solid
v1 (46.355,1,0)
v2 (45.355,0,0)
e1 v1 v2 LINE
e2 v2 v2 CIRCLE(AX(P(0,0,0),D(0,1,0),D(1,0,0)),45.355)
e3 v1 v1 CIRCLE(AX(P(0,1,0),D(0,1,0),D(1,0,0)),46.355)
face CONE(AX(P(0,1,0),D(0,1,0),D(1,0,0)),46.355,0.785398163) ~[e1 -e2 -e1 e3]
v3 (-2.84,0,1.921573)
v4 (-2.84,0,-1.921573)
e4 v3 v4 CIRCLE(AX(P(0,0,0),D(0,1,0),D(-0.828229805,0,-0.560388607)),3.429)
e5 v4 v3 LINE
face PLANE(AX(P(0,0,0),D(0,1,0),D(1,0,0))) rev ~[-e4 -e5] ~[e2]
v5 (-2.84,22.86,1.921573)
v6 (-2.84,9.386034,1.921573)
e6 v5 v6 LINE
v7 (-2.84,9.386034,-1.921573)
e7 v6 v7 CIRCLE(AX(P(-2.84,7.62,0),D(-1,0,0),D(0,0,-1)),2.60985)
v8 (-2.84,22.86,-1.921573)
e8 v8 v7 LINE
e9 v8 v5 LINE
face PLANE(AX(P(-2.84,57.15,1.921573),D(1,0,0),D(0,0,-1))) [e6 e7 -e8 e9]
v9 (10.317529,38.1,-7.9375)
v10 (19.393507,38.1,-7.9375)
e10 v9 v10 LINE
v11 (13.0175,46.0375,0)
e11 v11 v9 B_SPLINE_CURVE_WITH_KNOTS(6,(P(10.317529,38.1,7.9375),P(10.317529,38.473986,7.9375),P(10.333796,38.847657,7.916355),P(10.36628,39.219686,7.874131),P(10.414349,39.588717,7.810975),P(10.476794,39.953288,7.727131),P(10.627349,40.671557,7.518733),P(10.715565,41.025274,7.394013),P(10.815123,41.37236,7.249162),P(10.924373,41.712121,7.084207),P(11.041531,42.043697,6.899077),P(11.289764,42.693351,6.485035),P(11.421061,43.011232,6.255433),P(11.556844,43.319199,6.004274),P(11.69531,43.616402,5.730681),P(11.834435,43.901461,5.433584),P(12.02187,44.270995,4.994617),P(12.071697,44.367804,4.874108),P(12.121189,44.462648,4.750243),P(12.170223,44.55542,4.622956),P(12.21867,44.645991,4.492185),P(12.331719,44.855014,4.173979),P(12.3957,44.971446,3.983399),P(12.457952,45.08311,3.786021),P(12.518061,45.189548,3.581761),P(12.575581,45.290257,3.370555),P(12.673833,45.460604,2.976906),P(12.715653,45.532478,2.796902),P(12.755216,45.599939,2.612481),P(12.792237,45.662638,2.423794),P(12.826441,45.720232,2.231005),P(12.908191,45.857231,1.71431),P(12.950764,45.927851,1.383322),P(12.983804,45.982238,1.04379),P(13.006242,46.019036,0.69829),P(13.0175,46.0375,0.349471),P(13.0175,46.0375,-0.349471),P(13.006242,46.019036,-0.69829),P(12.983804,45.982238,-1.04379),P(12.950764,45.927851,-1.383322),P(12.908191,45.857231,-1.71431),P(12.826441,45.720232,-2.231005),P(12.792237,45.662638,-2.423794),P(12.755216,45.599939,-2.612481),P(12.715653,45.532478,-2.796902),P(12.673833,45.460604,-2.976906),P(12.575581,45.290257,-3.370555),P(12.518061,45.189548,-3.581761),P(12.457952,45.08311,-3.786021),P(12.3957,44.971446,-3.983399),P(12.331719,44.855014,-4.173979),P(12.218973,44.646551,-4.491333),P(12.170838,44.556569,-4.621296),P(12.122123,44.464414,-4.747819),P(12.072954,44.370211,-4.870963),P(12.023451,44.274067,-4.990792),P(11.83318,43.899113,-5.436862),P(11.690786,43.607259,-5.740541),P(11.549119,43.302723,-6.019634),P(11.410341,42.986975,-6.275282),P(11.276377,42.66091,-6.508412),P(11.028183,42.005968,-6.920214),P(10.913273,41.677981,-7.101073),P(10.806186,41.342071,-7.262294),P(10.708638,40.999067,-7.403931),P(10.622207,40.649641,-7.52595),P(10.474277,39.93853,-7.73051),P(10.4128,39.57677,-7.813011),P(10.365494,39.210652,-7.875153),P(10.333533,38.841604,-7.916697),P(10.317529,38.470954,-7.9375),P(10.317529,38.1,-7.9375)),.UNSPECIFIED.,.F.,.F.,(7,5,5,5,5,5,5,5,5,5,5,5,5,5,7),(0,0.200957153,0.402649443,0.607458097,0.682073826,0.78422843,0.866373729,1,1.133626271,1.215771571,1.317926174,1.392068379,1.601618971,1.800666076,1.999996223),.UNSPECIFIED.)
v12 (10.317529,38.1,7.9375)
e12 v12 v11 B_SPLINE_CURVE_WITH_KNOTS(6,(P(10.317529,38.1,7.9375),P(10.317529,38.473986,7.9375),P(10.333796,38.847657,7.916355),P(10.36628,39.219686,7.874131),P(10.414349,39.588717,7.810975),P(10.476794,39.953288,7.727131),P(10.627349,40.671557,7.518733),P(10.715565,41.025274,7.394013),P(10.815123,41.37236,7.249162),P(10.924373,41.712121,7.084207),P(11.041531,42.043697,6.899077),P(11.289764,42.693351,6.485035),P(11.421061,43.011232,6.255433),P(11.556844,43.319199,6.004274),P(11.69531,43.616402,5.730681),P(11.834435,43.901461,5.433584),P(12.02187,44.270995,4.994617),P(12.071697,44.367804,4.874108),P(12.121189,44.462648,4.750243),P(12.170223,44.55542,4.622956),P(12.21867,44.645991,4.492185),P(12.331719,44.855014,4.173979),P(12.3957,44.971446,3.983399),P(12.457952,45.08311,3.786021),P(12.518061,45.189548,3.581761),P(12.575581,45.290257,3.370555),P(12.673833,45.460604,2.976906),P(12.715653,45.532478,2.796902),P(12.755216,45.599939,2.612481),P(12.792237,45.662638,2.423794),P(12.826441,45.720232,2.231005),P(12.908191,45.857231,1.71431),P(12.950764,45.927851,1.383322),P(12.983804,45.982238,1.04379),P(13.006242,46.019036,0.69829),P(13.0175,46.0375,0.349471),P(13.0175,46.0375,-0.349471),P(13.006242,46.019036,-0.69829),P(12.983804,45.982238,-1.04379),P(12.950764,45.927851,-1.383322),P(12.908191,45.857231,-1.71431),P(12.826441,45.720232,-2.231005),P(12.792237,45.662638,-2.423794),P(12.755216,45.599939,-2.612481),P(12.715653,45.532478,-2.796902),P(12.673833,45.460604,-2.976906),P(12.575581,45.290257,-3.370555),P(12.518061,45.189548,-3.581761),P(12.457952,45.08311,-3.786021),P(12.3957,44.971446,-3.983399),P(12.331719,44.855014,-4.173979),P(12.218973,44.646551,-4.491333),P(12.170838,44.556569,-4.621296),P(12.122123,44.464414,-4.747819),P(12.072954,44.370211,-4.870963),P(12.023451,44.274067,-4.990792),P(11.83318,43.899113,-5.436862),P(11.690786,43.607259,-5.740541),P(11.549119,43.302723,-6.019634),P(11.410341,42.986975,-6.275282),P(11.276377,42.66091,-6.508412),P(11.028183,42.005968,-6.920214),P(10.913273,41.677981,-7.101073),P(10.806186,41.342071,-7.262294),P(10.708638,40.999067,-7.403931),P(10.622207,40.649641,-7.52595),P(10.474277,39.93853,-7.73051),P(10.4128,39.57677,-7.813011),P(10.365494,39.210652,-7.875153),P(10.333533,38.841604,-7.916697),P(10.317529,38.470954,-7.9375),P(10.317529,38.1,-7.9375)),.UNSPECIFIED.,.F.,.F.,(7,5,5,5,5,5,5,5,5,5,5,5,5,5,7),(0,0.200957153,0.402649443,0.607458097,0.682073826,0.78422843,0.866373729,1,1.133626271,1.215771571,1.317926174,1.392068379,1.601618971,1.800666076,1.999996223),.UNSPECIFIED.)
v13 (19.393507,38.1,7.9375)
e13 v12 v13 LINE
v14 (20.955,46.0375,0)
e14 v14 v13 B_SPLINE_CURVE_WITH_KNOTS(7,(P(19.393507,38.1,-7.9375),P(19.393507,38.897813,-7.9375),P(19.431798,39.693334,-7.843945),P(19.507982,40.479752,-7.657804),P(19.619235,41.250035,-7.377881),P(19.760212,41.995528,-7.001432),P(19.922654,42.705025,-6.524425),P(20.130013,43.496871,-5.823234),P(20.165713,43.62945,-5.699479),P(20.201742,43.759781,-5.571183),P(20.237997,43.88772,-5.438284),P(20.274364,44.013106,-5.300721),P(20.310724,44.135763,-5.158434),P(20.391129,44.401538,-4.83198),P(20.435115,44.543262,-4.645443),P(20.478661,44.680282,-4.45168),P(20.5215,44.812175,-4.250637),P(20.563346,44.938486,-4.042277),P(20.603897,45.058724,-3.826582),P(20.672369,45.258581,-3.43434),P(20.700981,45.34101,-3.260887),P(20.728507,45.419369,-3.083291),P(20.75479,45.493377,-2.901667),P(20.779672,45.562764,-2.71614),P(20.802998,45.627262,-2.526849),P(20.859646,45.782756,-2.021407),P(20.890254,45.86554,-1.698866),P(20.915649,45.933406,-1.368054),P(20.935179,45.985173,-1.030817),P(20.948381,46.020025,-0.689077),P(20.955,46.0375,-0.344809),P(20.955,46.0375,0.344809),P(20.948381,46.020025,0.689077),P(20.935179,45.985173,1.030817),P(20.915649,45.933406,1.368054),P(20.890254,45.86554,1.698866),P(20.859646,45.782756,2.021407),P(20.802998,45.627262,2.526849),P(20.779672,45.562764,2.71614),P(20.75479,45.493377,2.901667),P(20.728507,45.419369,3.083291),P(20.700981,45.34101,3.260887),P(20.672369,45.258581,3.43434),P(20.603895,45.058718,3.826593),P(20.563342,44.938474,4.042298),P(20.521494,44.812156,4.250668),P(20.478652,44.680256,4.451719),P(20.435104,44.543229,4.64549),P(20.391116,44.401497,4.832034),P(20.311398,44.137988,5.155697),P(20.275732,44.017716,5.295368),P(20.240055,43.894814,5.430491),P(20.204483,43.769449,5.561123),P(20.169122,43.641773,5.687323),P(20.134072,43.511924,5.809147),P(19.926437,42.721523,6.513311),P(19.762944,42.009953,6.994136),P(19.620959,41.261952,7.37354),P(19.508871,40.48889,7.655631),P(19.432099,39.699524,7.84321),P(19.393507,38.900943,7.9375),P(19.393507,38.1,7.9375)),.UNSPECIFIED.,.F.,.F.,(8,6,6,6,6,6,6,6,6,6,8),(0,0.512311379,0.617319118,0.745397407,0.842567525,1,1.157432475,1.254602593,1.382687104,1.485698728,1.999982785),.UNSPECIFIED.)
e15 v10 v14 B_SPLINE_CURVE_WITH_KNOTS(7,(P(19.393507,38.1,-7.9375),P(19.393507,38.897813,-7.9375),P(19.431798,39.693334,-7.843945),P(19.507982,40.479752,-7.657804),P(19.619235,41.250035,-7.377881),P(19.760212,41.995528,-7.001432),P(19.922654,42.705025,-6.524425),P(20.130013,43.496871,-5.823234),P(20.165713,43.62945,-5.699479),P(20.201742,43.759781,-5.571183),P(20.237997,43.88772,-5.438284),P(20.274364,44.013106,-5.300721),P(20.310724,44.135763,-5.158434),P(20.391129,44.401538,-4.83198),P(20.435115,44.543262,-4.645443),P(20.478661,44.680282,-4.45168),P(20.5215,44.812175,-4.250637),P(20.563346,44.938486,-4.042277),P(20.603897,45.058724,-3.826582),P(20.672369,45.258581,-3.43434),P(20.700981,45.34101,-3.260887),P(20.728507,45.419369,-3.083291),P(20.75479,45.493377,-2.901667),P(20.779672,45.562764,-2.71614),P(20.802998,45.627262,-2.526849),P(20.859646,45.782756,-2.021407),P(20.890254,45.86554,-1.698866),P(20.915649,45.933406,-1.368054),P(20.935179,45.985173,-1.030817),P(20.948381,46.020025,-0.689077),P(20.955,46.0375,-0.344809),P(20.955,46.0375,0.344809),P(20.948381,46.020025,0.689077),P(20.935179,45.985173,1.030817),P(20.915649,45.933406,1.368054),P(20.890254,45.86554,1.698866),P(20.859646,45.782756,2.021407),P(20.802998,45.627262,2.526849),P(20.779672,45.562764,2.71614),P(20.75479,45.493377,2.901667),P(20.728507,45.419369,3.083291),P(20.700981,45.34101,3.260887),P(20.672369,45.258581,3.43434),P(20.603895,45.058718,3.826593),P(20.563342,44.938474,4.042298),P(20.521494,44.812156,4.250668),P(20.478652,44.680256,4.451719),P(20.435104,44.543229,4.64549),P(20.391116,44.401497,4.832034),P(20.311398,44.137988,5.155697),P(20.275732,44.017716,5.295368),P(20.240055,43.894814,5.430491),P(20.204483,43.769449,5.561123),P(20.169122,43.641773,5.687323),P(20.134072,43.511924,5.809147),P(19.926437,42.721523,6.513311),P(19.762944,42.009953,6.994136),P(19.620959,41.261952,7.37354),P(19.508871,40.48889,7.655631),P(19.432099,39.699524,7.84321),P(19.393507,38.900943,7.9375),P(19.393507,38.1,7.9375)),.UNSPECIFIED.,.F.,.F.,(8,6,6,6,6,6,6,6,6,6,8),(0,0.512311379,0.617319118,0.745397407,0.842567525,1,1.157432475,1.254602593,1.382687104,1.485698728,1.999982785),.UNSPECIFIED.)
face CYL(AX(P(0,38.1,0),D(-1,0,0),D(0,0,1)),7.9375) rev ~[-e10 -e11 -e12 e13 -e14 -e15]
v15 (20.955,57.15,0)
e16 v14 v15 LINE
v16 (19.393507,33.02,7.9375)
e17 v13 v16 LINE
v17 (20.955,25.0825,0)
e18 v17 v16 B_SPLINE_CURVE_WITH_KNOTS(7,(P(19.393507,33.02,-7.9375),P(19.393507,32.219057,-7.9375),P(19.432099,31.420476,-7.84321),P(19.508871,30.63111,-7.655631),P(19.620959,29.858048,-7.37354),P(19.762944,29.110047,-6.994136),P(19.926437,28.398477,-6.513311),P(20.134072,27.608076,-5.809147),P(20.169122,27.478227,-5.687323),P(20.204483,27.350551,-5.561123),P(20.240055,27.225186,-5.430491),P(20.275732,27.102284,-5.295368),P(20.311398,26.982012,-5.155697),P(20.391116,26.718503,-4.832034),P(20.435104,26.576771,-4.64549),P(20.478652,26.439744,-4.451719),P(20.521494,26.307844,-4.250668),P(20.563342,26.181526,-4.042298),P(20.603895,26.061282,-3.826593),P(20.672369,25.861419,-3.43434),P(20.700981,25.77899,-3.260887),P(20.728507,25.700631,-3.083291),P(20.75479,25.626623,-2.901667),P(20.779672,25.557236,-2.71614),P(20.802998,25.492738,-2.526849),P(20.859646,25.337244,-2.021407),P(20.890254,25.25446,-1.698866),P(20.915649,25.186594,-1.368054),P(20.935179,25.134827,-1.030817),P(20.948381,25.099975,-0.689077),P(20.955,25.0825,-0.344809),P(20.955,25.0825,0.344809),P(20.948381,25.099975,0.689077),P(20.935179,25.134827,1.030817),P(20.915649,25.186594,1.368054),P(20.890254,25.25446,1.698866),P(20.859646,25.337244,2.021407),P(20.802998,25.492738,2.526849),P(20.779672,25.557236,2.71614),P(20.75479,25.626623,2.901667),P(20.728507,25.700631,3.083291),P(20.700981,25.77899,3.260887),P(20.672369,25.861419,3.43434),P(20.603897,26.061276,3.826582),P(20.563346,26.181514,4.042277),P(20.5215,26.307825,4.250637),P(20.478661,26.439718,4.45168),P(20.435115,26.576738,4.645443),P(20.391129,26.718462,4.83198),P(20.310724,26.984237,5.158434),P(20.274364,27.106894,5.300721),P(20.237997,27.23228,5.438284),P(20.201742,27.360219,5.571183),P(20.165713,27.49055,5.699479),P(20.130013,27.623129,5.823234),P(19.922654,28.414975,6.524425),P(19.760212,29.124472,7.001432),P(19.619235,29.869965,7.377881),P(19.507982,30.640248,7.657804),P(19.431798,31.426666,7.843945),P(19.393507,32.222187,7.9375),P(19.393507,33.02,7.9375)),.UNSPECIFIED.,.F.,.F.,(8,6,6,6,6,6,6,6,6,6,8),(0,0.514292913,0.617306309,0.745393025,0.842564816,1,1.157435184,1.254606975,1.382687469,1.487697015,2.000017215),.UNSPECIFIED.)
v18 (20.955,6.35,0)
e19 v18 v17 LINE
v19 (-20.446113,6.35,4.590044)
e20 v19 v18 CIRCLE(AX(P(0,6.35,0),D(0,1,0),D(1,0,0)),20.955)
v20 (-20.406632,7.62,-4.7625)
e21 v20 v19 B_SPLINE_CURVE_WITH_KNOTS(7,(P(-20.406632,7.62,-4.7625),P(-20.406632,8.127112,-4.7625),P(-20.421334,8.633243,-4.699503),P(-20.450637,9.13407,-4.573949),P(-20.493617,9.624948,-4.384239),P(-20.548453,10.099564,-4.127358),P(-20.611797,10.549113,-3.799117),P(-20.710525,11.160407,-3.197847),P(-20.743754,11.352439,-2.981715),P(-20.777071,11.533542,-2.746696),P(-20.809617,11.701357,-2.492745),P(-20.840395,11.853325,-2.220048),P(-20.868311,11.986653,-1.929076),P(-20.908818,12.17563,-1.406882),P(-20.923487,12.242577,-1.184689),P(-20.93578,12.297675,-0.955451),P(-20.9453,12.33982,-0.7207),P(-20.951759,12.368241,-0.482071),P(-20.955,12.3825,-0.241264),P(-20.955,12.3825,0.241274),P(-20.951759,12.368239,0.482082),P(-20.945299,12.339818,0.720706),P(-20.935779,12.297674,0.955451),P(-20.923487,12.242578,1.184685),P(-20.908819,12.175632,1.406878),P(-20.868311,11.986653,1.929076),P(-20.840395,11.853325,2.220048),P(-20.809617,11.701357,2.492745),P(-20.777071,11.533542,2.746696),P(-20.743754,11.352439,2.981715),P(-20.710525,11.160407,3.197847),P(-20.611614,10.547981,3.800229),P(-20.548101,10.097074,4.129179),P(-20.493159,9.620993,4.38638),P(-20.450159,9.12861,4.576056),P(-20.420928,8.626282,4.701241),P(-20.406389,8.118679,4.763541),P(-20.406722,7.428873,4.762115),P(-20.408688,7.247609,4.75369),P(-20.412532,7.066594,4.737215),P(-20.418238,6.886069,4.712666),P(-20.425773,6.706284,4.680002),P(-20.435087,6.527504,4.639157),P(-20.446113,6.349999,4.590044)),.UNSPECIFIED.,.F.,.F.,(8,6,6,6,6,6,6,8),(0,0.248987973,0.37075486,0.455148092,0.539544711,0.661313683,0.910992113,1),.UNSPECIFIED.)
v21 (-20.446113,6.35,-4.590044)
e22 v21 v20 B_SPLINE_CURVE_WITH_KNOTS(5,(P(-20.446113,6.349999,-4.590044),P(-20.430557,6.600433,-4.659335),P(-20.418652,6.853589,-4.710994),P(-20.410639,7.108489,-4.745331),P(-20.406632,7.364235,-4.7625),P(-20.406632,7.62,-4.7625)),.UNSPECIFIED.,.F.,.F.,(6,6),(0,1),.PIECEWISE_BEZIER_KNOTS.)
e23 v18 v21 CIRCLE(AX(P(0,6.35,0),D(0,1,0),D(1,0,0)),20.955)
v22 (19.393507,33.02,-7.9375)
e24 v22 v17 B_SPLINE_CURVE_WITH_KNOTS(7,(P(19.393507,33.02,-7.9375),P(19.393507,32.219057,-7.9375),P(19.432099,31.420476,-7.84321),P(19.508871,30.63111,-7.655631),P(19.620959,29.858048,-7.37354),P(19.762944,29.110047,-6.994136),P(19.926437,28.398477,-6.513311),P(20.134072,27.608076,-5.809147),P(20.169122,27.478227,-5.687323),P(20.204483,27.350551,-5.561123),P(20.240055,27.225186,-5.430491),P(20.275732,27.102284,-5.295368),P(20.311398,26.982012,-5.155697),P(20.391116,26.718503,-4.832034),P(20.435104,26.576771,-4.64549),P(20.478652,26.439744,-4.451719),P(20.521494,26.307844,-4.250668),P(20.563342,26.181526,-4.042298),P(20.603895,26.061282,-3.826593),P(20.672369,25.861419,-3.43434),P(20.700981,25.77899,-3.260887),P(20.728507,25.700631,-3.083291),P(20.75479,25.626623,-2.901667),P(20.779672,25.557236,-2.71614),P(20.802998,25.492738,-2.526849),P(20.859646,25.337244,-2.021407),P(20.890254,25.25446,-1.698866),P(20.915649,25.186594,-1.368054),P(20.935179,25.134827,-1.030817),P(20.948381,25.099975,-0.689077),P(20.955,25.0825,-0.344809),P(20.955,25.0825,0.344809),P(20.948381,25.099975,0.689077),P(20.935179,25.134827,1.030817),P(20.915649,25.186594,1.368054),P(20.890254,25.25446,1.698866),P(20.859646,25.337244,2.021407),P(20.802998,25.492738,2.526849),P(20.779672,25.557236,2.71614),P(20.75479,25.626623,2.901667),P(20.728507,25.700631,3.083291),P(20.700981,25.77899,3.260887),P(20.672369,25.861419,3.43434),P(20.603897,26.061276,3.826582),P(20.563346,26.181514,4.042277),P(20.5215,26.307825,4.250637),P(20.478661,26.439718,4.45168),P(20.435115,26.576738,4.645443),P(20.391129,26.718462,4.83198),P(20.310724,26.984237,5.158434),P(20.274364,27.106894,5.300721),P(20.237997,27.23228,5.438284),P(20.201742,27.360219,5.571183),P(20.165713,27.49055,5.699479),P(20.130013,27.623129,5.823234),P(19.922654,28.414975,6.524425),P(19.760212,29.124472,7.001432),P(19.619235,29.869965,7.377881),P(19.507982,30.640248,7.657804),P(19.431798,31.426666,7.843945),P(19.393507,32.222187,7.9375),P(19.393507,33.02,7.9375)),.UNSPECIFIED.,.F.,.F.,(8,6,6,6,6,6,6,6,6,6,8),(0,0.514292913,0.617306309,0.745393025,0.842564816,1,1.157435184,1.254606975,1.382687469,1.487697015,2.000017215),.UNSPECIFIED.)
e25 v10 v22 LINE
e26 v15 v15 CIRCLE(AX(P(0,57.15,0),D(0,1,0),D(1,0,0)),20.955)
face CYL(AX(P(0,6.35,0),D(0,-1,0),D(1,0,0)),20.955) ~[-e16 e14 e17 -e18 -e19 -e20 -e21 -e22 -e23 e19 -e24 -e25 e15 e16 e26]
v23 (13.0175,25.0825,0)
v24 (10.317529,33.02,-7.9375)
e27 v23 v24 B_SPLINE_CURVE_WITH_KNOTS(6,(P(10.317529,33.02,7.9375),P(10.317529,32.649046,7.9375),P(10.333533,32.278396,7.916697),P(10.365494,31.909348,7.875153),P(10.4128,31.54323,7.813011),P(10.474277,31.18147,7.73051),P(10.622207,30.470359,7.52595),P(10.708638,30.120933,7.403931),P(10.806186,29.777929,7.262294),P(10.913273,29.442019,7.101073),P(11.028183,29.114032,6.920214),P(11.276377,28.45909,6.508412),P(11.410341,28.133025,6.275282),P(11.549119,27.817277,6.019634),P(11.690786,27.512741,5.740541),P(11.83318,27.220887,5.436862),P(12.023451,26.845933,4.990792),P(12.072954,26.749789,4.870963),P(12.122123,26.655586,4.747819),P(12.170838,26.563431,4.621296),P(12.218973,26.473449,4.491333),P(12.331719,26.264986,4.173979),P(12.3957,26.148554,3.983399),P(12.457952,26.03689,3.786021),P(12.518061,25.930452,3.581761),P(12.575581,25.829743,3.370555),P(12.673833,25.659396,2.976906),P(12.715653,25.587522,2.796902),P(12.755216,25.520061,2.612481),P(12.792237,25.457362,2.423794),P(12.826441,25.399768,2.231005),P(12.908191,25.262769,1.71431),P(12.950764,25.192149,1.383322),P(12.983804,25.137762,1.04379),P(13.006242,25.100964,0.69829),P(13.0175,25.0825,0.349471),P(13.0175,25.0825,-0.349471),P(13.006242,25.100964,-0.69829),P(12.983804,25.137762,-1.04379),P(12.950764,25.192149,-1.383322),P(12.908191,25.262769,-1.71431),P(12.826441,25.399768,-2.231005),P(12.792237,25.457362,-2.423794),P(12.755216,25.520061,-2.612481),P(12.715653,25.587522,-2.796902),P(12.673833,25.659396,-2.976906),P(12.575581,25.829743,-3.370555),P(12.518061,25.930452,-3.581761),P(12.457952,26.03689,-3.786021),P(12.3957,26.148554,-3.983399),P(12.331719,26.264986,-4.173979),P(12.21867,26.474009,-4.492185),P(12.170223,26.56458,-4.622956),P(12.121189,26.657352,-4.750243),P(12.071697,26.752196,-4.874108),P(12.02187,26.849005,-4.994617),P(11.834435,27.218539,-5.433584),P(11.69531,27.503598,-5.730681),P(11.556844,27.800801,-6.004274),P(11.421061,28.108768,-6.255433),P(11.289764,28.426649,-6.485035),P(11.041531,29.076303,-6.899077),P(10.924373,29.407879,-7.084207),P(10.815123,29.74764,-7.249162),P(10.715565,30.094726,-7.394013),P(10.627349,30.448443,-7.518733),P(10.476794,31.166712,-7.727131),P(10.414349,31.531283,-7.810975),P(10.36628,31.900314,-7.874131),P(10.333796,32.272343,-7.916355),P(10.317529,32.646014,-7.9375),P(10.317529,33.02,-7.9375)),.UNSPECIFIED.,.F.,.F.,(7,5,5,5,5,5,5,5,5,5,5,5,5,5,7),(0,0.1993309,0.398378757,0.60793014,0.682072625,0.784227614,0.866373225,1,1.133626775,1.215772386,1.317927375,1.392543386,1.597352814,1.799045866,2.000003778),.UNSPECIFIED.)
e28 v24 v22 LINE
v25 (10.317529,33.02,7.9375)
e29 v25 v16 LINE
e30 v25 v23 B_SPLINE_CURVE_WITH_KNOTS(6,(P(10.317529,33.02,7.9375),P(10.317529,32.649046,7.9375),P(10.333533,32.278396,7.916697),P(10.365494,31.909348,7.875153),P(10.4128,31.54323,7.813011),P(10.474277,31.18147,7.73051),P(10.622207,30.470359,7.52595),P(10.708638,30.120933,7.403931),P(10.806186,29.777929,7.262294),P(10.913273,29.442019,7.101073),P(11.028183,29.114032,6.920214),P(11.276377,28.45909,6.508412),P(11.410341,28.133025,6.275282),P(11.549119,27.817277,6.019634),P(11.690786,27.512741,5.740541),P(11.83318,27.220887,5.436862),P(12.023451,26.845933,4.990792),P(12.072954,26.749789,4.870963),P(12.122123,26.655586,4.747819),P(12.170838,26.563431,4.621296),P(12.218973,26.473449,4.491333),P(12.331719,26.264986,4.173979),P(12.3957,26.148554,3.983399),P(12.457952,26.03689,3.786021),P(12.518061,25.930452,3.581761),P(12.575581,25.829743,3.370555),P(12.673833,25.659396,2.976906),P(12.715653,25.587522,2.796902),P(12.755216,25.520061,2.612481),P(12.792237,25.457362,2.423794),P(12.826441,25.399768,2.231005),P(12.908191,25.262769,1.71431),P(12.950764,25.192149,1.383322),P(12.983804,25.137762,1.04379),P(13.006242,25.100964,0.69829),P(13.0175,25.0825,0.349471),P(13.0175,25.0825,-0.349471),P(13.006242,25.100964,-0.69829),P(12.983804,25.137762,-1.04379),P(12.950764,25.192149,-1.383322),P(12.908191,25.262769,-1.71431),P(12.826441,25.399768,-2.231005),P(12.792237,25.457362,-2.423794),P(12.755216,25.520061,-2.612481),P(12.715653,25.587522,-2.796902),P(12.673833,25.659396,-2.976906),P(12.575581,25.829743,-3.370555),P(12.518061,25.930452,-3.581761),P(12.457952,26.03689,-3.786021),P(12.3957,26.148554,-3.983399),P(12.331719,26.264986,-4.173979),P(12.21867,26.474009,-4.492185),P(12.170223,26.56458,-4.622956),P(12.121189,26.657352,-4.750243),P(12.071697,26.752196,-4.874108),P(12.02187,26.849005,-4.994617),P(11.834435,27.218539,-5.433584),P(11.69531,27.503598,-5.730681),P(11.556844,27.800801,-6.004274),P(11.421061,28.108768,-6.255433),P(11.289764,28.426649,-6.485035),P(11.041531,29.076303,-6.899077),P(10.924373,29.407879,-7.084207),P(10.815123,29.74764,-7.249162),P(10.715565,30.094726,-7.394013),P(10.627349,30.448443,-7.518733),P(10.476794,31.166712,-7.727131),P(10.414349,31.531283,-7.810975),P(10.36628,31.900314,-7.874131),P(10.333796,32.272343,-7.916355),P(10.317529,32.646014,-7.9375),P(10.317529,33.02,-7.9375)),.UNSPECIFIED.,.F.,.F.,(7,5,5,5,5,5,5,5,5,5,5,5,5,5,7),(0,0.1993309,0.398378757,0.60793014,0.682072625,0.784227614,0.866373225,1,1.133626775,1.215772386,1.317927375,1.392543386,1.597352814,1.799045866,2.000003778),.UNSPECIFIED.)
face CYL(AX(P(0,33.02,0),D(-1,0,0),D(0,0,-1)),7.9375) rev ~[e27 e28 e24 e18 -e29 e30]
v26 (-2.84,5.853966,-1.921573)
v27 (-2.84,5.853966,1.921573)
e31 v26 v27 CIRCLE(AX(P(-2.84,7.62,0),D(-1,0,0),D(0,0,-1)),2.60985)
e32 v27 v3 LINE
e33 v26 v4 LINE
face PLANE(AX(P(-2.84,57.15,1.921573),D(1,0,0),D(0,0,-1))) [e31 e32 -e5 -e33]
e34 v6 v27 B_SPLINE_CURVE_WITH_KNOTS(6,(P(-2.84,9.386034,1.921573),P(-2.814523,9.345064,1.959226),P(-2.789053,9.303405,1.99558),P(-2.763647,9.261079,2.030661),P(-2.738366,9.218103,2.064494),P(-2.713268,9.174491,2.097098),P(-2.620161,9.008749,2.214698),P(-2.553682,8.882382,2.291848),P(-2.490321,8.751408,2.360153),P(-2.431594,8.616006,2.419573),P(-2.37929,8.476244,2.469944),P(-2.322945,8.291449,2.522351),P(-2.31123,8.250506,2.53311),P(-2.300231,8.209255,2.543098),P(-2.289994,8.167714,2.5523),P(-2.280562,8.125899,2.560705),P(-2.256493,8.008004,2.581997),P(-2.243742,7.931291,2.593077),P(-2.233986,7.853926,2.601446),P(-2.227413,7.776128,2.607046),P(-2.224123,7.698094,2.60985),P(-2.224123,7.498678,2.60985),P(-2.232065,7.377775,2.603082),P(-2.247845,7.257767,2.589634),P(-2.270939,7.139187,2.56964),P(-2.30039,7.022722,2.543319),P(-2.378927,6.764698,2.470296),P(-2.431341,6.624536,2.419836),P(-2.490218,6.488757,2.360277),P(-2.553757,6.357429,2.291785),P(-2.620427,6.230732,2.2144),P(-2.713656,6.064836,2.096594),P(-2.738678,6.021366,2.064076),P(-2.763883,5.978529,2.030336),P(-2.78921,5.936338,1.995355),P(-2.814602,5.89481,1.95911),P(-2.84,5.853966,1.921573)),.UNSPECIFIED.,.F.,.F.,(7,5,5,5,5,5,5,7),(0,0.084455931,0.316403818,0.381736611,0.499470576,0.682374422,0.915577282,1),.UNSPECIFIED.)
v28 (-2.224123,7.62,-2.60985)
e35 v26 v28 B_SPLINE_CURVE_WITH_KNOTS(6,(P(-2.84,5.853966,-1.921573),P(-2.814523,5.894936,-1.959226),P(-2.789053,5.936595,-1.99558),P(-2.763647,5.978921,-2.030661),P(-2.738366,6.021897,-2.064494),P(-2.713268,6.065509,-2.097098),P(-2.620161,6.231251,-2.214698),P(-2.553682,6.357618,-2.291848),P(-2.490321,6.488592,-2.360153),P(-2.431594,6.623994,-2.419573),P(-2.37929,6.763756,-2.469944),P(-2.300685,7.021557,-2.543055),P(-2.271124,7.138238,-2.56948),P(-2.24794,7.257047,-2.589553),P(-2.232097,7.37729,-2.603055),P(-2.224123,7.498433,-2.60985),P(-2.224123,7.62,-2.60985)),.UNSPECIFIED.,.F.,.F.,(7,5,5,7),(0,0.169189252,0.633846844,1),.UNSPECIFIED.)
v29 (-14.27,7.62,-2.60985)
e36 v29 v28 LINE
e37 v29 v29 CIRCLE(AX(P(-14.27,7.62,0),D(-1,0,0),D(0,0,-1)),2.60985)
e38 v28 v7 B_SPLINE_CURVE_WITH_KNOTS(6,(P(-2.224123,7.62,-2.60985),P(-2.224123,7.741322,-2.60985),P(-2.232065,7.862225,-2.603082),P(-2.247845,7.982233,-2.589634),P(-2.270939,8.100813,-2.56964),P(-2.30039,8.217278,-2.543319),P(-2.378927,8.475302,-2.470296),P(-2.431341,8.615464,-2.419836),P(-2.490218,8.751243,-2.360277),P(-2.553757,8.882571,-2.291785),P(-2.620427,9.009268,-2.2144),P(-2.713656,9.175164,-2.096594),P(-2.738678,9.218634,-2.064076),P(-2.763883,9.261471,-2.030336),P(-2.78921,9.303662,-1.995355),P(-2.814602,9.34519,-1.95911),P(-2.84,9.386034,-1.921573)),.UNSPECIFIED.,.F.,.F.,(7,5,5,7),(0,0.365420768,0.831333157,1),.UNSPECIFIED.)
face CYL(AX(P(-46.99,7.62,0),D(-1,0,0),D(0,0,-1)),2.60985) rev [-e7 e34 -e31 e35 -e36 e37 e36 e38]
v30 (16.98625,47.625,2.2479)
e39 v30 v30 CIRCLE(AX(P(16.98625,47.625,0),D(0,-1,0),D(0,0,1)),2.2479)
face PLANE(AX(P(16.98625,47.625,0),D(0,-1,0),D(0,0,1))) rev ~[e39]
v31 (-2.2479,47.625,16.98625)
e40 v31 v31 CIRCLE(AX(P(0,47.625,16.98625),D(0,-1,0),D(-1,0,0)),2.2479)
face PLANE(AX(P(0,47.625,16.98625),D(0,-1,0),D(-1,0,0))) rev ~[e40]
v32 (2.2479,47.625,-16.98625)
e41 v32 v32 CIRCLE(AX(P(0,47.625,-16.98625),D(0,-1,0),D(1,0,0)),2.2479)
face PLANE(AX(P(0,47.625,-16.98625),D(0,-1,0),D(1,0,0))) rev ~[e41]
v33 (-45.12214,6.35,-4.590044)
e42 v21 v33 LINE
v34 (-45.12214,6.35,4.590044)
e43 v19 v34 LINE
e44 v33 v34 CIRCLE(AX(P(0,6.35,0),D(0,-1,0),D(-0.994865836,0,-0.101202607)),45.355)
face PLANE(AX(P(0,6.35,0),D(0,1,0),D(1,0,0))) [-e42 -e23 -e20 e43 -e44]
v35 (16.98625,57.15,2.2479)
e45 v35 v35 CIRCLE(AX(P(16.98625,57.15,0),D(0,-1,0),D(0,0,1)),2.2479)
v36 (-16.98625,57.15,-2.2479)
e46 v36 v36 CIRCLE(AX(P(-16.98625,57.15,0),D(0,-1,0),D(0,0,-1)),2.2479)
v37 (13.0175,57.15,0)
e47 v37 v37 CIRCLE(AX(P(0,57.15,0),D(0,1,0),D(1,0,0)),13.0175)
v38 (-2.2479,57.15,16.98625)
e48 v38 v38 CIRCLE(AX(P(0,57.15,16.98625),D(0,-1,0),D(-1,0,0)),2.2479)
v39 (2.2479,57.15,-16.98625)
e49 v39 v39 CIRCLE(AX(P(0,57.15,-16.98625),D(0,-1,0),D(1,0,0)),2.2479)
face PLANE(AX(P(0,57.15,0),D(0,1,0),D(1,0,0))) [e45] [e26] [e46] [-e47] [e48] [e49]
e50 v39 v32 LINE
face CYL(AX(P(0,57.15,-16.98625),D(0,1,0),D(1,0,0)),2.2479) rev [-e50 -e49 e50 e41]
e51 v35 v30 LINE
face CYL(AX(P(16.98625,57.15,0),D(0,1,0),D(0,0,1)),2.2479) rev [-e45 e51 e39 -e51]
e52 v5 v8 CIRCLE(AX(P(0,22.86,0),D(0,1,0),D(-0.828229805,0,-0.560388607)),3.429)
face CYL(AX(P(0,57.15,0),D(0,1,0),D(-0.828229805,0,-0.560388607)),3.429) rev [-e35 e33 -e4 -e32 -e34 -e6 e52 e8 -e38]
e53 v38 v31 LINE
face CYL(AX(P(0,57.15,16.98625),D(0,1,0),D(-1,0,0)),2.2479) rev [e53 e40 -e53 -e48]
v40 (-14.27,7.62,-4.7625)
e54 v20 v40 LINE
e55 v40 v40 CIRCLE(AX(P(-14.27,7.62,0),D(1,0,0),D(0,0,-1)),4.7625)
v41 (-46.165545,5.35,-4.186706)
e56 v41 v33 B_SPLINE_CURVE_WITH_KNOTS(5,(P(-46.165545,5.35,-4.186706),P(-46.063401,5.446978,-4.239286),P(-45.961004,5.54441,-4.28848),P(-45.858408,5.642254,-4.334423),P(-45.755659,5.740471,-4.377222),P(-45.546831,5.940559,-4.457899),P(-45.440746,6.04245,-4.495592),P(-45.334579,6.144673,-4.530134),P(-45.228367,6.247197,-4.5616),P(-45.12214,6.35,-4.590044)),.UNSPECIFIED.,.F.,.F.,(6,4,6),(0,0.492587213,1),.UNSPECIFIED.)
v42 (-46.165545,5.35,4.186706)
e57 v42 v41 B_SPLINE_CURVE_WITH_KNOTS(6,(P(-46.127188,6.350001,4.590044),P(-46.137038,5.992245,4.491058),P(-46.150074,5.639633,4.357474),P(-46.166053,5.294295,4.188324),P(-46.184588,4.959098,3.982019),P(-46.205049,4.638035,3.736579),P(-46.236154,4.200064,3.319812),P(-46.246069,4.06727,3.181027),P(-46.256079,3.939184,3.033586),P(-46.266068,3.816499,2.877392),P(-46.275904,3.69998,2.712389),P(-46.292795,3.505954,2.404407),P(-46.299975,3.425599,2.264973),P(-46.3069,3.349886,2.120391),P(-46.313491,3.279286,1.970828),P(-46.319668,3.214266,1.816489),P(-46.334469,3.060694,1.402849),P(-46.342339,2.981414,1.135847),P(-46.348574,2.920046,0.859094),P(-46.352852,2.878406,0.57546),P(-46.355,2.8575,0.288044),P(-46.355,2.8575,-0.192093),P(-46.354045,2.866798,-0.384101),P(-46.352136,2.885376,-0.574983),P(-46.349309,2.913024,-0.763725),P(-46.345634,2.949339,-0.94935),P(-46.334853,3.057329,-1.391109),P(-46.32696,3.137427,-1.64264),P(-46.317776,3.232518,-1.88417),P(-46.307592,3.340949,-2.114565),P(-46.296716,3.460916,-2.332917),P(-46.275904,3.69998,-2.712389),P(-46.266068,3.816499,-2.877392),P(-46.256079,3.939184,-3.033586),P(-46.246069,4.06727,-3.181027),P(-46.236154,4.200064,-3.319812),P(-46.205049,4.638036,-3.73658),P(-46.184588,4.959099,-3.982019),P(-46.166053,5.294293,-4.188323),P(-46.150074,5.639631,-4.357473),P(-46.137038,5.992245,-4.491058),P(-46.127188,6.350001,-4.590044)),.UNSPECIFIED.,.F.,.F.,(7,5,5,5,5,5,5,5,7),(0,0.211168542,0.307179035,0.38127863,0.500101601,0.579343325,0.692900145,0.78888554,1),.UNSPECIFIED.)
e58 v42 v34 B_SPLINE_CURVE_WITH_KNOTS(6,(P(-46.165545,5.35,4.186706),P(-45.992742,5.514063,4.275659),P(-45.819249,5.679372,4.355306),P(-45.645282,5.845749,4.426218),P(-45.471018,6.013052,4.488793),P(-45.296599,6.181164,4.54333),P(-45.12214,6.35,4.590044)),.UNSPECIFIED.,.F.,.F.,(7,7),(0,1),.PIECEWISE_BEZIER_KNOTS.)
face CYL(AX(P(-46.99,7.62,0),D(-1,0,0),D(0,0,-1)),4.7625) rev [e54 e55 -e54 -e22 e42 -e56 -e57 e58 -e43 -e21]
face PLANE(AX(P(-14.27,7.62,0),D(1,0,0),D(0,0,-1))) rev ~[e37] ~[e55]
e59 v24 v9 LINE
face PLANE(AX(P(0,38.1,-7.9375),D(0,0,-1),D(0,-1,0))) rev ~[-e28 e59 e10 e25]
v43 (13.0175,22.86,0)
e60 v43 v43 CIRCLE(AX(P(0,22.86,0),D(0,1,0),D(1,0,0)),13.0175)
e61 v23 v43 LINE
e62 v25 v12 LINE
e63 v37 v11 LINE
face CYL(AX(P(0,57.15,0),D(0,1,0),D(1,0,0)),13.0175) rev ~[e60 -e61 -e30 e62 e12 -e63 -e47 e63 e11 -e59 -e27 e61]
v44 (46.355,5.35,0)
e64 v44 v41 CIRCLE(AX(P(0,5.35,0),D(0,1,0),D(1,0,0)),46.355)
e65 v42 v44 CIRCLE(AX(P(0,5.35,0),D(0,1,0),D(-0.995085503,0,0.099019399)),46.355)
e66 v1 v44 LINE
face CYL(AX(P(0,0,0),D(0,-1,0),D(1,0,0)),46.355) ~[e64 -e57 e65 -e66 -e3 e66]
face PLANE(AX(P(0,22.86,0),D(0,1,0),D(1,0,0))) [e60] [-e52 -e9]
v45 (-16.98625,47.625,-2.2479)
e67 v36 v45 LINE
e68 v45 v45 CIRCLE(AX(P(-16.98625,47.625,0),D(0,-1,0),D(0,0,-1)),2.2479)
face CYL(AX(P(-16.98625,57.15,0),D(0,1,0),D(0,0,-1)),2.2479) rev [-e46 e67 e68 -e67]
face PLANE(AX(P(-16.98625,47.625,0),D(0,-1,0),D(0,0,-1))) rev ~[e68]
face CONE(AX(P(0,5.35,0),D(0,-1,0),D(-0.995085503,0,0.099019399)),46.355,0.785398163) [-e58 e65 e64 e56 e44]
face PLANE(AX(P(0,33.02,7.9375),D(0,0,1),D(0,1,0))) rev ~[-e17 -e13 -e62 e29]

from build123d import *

# Parameters (mm, degrees)
SKETCH1_R           = 46.355
BOSS_EXTRUDE1_DEPTH = 6.35
SKETCH2_R           = 20.955
BOSS_EXTRUDE2_DEPTH = 50.8
CUT_EXTRUDE1_REACH  = 59.15
SKETCH3_3_R         = 13.0175
CUT_EXTRUDE2_DEPTH  = 34.29
CUT_EXTRUDE3_REACH  = 48.355
SKETCH5_5_R         = 2.2479
CUT_EXTRUDE7_DEPTH  = 9.525
CIRPATTERN1_COUNT   = 4
CUT_EXTRUDE8_REACH  = 95.345
SKETCH6_R           = 2.60985
SKETCH6_4_R         = 4.7625
CUT_EXTRUDE9_DEPTH  = 32.72
CHAMFER1_SIZE       = 1


with BuildPart() as part:
    # Sketch1 → Boss-Extrude1 (new body)
    with BuildSketch(Plane(origin=(0, 0, 0), x_dir=(1, 0, 0), z_dir=(0, 1, 0))):
        Circle(SKETCH1_R)
    extrude(amount=BOSS_EXTRUDE1_DEPTH)

    # Sketch2 → Boss-Extrude2 (add)
    with BuildSketch(Plane(origin=(0, 6.35, 0), x_dir=(1, 0, 0), z_dir=(0, 1, 0))):
        Circle(SKETCH2_R)
    extrude(amount=BOSS_EXTRUDE2_DEPTH)

    # Sketch3 → Cut-Extrude1 (cut, up to next)
    with BuildSketch(Plane(origin=(0, 57.15, 0), x_dir=(1, 0, 0), z_dir=(0, 1, 0)), mode=Mode.PRIVATE) as cut_extrude1_sk1:
        with BuildLine():
            Line((-2.84, -1.921572533), (-2.84, 1.921572533))
            ThreePointArc((-2.84, 1.921572533), (3.429, 0), (-2.84, -1.921572533))
        make_face()
    cut_extrude1_tool1 = extrude(cut_extrude1_sk1.sketch, amount=-CUT_EXTRUDE1_REACH, mode=Mode.PRIVATE) & part.part
    add(cut_extrude1_tool1.solids().sort_by_distance((0.133614, 57.15, 0))[0], mode=Mode.SUBTRACT)

    # Sketch3_3 → Cut-Extrude2 (cut)
    with BuildSketch(Plane(origin=(0, 57.15, 0), x_dir=(1, 0, 0), z_dir=(0, 1, 0))):
        Circle(SKETCH3_3_R)
    extrude(amount=-CUT_EXTRUDE2_DEPTH, mode=Mode.SUBTRACT)

    # Sketch4 → Cut-Extrude3 (cut, up to next)
    with BuildSketch(Plane(origin=(0, 0, 0), x_dir=(0, 0, -1), z_dir=(1, 0, 0)), mode=Mode.PRIVATE) as cut_extrude3_sk1:
        with BuildLine():
            ThreePointArc((7.9375, 33.02), (0, 25.0825), (-7.9375, 33.02))
            Line((-7.9375, 33.02), (-7.9375, 38.1))
            ThreePointArc((-7.9375, 38.1), (0, 46.0375), (7.9375, 38.1))
            Line((7.9375, 38.1), (7.9375, 33.02))
        make_face()
    cut_extrude3_tool1 = extrude(cut_extrude3_sk1.sketch, amount=CUT_EXTRUDE3_REACH, mode=Mode.PRIVATE) & part.part
    add(cut_extrude3_tool1.solids().sort_by_distance((0, 35.56, 0))[0], mode=Mode.SUBTRACT)

    # Sketch5_5 → Cut-Extrude7 (cut)
    with BuildSketch(Plane.XZ.offset(-57.15)):
        with Locations((0, -16.98625)):
            Circle(SKETCH5_5_R)
    cut_extrude7 = extrude(amount=CUT_EXTRUDE7_DEPTH, mode=Mode.SUBTRACT)

    # CirPattern1: Cut-Extrude7 ×4 about axis
    cirpattern1_axis = Axis((0, 0, 0), (0, 1, 0))
    for i in range(1, CIRPATTERN1_COUNT):
        add(cut_extrude7.rotate(cirpattern1_axis, i * 360 / CIRPATTERN1_COUNT), mode=Mode.SUBTRACT)

    # Sketch6 → Cut-Extrude8 (cut, up to next)
    with BuildSketch(Plane(origin=(-46.99, 0, 0), x_dir=(0, 0, -1), z_dir=(1, 0, 0)), mode=Mode.PRIVATE) as cut_extrude8_sk1:
        with Locations((0, 7.62)):
            Circle(SKETCH6_R)
    cut_extrude8_tool1 = extrude(cut_extrude8_sk1.sketch, amount=CUT_EXTRUDE8_REACH, mode=Mode.PRIVATE) & part.part
    add(cut_extrude8_tool1.solids().sort_by_distance((-46.99, 7.62, 0))[0], mode=Mode.SUBTRACT)

    # Sketch6_4 → Cut-Extrude9 (cut)
    with BuildSketch(Plane(origin=(-46.99, 0, 0), x_dir=(0, 0, -1), z_dir=(1, 0, 0))):
        with Locations((0, 7.62)):
            Circle(SKETCH6_4_R)
    extrude(amount=CUT_EXTRUDE9_DEPTH, mode=Mode.SUBTRACT)

    # Chamfer1
    chamfer1_edges = [part.edges().sort_by_distance(p)[0] for p in [
        (-46.355, 0, 0),
        (2.297847054, 6.35, 46.298012095),
    ]]
    chamfer(chamfer1_edges, length=CHAMFER1_SIZE)


solid = part.part
